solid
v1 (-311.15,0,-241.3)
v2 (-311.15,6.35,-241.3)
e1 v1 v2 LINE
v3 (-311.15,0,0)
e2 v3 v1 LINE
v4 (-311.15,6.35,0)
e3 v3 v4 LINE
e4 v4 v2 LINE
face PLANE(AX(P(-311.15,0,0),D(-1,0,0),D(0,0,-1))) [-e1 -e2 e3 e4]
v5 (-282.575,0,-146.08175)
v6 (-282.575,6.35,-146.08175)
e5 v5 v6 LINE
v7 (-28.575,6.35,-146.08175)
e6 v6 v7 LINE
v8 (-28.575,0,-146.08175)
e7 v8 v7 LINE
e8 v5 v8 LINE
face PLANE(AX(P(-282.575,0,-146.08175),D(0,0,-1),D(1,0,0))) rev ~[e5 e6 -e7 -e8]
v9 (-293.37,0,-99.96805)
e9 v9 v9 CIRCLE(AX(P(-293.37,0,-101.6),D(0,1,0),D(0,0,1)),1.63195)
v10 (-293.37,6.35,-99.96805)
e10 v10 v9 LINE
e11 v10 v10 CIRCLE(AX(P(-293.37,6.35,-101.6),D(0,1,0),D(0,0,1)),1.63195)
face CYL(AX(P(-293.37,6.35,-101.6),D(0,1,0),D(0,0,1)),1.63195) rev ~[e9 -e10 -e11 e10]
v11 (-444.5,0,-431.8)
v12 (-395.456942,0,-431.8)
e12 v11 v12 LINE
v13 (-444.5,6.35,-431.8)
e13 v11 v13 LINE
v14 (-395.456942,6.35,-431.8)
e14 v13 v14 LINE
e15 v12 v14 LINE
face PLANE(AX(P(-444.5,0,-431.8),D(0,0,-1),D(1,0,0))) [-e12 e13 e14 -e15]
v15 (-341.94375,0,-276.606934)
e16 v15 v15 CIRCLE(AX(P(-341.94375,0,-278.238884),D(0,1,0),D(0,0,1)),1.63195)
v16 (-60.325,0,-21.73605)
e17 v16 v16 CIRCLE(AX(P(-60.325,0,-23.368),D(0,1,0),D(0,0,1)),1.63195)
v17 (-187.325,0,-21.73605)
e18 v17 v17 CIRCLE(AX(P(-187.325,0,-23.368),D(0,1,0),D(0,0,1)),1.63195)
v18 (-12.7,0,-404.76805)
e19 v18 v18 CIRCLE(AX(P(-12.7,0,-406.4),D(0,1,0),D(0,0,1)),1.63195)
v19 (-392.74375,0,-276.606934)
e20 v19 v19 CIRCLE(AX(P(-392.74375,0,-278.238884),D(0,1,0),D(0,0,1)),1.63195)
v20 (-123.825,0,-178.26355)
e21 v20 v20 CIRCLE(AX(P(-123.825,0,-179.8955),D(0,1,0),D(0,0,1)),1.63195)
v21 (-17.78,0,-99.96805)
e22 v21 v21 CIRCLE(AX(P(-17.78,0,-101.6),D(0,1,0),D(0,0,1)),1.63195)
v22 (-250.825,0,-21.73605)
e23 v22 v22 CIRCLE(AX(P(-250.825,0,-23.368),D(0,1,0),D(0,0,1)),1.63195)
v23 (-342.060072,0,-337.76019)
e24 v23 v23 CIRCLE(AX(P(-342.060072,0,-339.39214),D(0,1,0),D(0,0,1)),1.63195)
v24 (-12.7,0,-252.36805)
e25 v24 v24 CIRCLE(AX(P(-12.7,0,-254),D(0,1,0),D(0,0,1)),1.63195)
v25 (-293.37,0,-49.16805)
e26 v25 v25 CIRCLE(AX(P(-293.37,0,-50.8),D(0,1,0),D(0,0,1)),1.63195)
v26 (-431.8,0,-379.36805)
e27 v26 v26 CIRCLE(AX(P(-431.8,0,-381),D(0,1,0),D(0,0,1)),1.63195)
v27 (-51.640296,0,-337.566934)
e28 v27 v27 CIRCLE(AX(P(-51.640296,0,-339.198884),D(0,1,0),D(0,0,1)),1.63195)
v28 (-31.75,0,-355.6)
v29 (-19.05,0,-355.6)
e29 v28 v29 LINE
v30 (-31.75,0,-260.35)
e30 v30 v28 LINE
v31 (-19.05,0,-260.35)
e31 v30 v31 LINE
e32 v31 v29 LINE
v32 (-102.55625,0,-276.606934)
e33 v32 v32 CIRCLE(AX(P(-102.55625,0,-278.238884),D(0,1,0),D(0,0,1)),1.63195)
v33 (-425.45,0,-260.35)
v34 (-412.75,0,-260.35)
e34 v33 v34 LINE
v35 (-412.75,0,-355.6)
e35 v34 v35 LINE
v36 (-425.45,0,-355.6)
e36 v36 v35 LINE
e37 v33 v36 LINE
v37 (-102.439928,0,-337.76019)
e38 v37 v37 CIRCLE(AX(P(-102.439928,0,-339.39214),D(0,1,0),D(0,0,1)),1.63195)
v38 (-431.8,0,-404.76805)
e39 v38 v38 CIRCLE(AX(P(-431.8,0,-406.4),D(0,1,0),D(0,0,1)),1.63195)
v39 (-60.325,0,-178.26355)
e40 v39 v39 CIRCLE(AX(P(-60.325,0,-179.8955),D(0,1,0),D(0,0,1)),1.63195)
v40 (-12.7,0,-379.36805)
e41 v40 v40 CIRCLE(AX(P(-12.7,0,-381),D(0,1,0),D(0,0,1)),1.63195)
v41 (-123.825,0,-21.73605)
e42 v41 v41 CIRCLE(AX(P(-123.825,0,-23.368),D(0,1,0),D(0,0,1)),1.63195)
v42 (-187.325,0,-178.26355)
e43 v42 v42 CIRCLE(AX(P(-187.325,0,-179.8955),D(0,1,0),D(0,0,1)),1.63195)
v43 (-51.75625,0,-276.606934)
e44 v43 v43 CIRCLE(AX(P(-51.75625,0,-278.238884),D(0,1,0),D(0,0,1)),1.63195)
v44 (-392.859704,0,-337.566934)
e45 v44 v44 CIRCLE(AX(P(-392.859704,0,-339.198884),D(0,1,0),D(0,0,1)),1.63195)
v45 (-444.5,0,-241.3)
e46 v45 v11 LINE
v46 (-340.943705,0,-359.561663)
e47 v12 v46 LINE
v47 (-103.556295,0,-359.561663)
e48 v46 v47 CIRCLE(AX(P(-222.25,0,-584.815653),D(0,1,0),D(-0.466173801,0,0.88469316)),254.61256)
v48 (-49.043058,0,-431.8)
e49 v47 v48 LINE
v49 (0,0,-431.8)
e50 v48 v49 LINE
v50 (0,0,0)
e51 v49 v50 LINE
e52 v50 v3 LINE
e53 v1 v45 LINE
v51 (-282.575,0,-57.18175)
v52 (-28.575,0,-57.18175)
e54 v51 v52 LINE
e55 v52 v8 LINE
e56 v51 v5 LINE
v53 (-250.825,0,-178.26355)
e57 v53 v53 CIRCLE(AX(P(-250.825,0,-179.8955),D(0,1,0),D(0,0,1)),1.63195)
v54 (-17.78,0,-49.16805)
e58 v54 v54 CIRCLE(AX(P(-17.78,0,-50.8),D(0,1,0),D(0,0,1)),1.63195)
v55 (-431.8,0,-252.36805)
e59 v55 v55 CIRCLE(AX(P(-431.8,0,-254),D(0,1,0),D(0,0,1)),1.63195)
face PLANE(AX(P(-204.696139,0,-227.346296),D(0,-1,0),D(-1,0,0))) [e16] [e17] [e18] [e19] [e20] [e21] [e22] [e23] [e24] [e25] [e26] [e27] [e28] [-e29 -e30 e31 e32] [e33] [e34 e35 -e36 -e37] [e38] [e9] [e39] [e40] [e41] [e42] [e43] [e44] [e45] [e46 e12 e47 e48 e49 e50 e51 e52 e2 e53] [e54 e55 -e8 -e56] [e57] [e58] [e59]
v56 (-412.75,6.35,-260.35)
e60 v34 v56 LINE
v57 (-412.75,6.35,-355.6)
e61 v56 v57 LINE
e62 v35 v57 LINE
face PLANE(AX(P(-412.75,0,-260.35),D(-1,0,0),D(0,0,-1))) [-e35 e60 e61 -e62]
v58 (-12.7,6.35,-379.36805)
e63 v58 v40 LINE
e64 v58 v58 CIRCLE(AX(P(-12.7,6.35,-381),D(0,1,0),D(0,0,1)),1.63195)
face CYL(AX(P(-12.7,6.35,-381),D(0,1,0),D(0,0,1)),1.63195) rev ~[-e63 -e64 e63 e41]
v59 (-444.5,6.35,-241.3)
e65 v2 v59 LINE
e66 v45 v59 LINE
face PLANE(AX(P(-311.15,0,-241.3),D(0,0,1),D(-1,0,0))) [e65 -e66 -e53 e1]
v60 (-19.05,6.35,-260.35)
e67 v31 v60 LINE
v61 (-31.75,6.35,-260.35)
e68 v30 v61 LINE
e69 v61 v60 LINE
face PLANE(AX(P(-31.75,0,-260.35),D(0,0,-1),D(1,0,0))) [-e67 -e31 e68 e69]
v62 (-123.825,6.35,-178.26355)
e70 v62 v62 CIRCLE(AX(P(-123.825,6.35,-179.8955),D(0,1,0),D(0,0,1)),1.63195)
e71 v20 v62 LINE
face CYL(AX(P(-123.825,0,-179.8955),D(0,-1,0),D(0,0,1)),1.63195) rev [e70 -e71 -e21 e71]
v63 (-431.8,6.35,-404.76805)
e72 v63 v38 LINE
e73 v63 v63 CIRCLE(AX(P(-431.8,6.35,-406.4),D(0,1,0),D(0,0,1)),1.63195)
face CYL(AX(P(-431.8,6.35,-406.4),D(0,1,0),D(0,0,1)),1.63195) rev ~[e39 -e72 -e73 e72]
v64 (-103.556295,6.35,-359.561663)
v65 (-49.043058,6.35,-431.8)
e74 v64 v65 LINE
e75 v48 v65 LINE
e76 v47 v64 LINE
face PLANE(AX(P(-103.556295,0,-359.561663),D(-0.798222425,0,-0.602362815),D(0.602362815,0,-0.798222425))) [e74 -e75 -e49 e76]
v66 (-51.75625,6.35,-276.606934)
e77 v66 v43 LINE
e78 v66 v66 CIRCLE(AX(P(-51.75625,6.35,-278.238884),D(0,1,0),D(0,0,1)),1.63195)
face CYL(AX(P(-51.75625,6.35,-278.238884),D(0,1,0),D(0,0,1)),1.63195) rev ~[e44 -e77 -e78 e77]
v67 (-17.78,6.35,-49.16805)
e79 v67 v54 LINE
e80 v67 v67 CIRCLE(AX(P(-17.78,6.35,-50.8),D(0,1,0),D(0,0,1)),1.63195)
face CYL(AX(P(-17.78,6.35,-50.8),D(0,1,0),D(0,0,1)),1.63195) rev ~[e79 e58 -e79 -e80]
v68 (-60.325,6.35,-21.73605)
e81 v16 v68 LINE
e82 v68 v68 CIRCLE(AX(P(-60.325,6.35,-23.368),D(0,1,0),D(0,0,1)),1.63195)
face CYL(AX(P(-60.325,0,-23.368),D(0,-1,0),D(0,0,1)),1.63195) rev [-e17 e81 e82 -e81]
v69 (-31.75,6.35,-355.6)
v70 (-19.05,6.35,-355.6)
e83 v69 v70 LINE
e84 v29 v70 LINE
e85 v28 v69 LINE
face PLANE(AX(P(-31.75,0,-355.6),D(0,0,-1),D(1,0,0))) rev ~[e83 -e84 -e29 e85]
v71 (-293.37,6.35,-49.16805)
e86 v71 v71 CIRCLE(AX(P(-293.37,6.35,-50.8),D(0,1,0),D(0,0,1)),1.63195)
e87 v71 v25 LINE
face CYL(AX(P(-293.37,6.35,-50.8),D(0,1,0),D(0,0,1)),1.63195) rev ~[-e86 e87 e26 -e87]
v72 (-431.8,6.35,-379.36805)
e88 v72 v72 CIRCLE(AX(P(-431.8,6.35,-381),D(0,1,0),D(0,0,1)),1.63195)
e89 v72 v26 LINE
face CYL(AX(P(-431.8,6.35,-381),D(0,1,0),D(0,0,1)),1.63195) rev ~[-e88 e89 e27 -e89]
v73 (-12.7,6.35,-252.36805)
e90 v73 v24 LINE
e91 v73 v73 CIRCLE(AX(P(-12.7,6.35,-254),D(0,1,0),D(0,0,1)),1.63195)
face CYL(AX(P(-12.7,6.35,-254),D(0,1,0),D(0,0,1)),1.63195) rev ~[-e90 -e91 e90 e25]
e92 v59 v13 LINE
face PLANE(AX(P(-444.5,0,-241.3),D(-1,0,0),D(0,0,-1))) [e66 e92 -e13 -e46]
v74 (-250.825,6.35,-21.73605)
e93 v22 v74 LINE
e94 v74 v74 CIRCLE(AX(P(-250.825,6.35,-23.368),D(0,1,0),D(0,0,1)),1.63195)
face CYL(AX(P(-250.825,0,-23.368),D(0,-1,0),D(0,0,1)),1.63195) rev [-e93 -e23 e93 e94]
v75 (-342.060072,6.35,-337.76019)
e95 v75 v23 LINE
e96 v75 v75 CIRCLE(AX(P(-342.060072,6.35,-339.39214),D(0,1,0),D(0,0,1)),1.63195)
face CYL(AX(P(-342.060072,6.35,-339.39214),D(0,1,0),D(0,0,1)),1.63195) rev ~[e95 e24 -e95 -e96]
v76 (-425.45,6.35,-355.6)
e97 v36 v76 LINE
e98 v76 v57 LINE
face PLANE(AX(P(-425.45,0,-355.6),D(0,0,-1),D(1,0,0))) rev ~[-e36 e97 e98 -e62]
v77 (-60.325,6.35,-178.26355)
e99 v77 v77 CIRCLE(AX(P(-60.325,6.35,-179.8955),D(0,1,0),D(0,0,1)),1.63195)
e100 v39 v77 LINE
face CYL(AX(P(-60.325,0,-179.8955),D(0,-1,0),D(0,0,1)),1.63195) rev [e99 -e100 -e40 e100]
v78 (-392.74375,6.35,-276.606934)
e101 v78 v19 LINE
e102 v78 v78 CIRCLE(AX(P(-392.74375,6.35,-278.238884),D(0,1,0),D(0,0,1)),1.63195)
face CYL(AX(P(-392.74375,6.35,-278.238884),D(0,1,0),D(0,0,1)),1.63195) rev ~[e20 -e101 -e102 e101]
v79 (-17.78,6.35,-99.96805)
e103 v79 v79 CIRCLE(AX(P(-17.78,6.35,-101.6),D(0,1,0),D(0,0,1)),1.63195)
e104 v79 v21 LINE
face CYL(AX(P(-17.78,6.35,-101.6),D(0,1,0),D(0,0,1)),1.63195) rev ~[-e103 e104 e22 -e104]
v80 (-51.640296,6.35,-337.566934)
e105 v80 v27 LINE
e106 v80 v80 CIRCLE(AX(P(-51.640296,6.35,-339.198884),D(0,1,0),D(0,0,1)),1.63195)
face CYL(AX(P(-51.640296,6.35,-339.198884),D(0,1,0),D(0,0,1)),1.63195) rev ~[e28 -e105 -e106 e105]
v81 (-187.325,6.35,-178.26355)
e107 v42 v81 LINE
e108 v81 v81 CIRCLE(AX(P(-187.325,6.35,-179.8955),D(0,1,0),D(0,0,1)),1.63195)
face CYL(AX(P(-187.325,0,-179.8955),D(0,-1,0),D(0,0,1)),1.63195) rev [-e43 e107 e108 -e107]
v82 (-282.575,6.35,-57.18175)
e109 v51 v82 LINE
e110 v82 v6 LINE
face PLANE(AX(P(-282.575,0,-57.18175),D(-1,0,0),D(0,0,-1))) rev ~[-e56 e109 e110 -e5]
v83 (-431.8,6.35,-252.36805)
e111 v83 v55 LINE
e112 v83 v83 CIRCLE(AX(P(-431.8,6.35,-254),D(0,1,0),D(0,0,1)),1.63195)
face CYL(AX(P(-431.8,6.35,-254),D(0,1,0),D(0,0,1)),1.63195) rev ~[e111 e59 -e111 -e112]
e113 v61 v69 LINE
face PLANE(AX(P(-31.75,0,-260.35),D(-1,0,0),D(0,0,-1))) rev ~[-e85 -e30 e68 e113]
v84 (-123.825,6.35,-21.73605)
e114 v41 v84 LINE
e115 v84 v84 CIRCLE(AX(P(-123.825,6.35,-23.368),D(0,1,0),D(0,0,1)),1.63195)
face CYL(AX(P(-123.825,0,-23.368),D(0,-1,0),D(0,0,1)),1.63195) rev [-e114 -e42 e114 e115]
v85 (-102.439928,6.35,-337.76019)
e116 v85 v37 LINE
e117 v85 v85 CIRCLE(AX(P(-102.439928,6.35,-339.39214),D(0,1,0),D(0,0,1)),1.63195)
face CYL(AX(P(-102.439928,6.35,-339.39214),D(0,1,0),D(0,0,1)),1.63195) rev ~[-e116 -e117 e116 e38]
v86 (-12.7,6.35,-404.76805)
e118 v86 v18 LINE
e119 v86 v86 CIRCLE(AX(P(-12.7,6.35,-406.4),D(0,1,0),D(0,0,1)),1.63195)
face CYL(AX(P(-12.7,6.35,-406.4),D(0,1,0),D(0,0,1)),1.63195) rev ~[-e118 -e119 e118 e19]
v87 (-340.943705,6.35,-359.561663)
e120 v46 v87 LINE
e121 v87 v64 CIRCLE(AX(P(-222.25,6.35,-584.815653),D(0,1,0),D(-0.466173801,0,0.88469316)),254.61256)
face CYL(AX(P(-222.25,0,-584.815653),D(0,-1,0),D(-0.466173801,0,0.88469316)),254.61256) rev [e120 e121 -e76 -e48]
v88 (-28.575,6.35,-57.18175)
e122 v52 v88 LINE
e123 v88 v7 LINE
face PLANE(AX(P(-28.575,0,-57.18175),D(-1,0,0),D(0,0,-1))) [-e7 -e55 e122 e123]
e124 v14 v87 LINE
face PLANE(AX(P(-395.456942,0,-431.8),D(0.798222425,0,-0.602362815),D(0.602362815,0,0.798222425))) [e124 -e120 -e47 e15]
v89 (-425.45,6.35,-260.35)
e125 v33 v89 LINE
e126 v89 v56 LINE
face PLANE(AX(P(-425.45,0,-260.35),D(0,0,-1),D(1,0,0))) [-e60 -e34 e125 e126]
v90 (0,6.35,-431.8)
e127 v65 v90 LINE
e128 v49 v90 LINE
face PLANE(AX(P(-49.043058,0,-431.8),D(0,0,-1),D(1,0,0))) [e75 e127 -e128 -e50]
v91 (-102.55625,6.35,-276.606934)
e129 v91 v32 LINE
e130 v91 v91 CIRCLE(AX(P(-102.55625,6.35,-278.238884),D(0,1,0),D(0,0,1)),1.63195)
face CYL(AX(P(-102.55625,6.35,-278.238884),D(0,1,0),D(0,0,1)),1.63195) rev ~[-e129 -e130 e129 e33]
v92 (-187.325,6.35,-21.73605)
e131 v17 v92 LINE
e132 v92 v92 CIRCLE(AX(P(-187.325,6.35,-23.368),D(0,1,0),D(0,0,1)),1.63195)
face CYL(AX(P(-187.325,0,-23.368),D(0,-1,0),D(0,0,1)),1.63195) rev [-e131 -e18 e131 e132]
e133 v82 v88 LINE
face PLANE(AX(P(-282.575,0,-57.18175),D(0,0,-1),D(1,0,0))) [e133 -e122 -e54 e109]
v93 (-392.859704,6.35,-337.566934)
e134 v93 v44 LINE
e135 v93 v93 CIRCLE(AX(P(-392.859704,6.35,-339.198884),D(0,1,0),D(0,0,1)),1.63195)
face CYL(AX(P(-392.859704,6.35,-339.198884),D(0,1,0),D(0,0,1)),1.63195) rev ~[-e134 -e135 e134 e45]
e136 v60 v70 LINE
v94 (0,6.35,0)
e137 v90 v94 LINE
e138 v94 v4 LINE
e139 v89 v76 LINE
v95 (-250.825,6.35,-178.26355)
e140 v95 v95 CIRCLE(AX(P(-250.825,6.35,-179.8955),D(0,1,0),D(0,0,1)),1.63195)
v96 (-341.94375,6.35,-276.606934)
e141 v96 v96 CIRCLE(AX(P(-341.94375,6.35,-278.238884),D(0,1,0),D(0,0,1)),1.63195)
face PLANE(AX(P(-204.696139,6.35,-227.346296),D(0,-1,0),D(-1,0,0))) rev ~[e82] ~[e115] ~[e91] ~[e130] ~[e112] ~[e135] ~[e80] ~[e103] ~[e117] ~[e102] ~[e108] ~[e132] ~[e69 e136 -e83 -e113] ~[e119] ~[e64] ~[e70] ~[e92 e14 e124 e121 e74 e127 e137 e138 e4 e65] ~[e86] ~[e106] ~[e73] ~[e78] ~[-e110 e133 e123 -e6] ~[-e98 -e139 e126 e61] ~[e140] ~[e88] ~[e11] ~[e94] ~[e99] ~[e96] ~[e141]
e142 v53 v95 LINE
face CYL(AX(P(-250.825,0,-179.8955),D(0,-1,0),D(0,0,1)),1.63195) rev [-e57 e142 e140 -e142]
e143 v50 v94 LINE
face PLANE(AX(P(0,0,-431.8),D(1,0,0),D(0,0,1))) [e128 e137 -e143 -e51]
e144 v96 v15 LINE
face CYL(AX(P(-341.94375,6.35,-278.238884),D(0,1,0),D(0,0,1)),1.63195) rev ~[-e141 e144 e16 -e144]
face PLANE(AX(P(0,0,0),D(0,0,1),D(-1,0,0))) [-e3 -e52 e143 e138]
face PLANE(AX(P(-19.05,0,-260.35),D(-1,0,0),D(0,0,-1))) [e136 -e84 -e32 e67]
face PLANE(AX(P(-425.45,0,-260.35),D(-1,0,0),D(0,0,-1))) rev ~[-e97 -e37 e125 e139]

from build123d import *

# Parameters (mm, degrees)
SKETCH1_R           = 1.63195
SKETCH1_W           = 254
SKETCH1_H           = 88.9
SKETCH1_W_2         = 12.7
SKETCH1_H_2         = 95.25
BOSS_EXTRUDE1_DEPTH = 6.35
CUT_EXTRUDE1_REACH  = 621.735
SKETCH2_R           = 1.63195
CUT_EXTRUDE2_REACH  = 621.735
SKETCH4_R           = 1.63195


with BuildPart() as part:
    # Sketch1 → Boss-Extrude1 (new body)
    with BuildSketch(Plane(origin=(0, 0, 0), x_dir=(1, 0, 0), z_dir=(0, 1, 0))):
        with BuildLine():
            Line((-444.5, 431.8), (-395.456941666, 431.8))
            Line((-395.456941666, 431.8), (-340.943704665, 359.56166268))
            ThreePointArc((-340.943704665, 359.56166268), (-222.25, 330.203093028), (-103.556295335, 359.56166268))
            Line((-103.556295335, 359.56166268), (-49.043058334, 431.8))
            Line((-49.043058334, 431.8), (0, 431.8))
            Line((0, 431.8), (0, 0))
            Line((0, 0), (-311.15, 0))
            Line((-311.15, 0), (-311.15, 241.3))
            Line((-311.15, 241.3), (-444.5, 241.3))
            Line((-444.5, 241.3), (-444.5, 431.8))
        make_face()
        with Locations(Location((-250.825, 23.368, 0), (0, 0, 270))):
            Circle(SKETCH1_R, mode=Mode.SUBTRACT)
        with Locations(Location((-187.325, 23.368, 0), (0, 0, 270))):
            Circle(SKETCH1_R, mode=Mode.SUBTRACT)
        with Locations(Location((-187.325, 179.8955, 0), (0, 0, 270))):
            Circle(SKETCH1_R, mode=Mode.SUBTRACT)
        with Locations(Location((-250.825, 179.8955, 0), (0, 0, 270))):
            Circle(SKETCH1_R, mode=Mode.SUBTRACT)
        with Locations(Location((-123.825, 179.8955, 0), (0, 0, 270))):
            Circle(SKETCH1_R, mode=Mode.SUBTRACT)
        with Locations(Location((-60.325, 179.8955, 0), (0, 0, 270))):
            Circle(SKETCH1_R, mode=Mode.SUBTRACT)
        with Locations(Location((-123.825, 23.368, 0), (0, 0, 270))):
            Circle(SKETCH1_R, mode=Mode.SUBTRACT)
        with Locations(Location((-60.325, 23.368, 0), (0, 0, 270))):
            Circle(SKETCH1_R, mode=Mode.SUBTRACT)
        with Locations((-155.575, 101.63175)):
            Rectangle(SKETCH1_W, SKETCH1_H, mode=Mode.SUBTRACT)
        with Locations((-25.4, 307.975)):
            Rectangle(SKETCH1_W_2, SKETCH1_H_2, mode=Mode.SUBTRACT)
        with Locations((-419.1, 307.975)):
            Rectangle(SKETCH1_W_2, SKETCH1_H_2, mode=Mode.SUBTRACT)
    extrude(amount=BOSS_EXTRUDE1_DEPTH)

    # Sketch2 → Cut-Extrude1 (cut, up to next)
    with BuildSketch(Plane(origin=(0, 6.35, 0), x_dir=(1, 0, 0), z_dir=(0, 1, 0)), mode=Mode.PRIVATE) as cut_extrude1_sk1:
        with Locations(Location((-293.37, 101.6, 0), (0, 0, 270))):
            Circle(SKETCH2_R)
    cut_extrude1_tool1 = extrude(cut_extrude1_sk1.sketch, amount=-CUT_EXTRUDE1_REACH, mode=Mode.PRIVATE) & part.part
    # Sketch2 → Cut-Extrude1 (cut, up to next)
    with BuildSketch(Plane(origin=(0, 6.35, 0), x_dir=(1, 0, 0), z_dir=(0, 1, 0)), mode=Mode.PRIVATE) as cut_extrude1_sk2:
        with Locations(Location((-293.37, 50.8, 0), (0, 0, 270))):
            Circle(SKETCH2_R)
    cut_extrude1_tool2 = extrude(cut_extrude1_sk2.sketch, amount=-CUT_EXTRUDE1_REACH, mode=Mode.PRIVATE) & part.part
    # Sketch2 → Cut-Extrude1 (cut, up to next)
    with BuildSketch(Plane(origin=(0, 6.35, 0), x_dir=(1, 0, 0), z_dir=(0, 1, 0)), mode=Mode.PRIVATE) as cut_extrude1_sk3:
        with Locations(Location((-17.78, 101.6, 0), (0, 0, 270))):
            Circle(SKETCH2_R)
    cut_extrude1_tool3 = extrude(cut_extrude1_sk3.sketch, amount=-CUT_EXTRUDE1_REACH, mode=Mode.PRIVATE) & part.part
    # Sketch2 → Cut-Extrude1 (cut, up to next)
    with BuildSketch(Plane(origin=(0, 6.35, 0), x_dir=(1, 0, 0), z_dir=(0, 1, 0)), mode=Mode.PRIVATE) as cut_extrude1_sk4:
        with Locations(Location((-17.78, 50.8, 0), (0, 0, 270))):
            Circle(SKETCH2_R)
    cut_extrude1_tool4 = extrude(cut_extrude1_sk4.sketch, amount=-CUT_EXTRUDE1_REACH, mode=Mode.PRIVATE) & part.part
    add(cut_extrude1_tool1.solids().sort_by_distance((-293.37, 6.35, -101.6))[0], mode=Mode.SUBTRACT)
    add(cut_extrude1_tool2.solids().sort_by_distance((-293.37, 6.35, -50.8))[0], mode=Mode.SUBTRACT)
    add(cut_extrude1_tool3.solids().sort_by_distance((-17.78, 6.35, -101.6))[0], mode=Mode.SUBTRACT)
    add(cut_extrude1_tool4.solids().sort_by_distance((-17.78, 6.35, -50.8))[0], mode=Mode.SUBTRACT)

    # Sketch4 → Cut-Extrude2 (cut, up to next)
    with BuildSketch(Plane(origin=(0, 6.35, 0), x_dir=(1, 0, 0), z_dir=(0, 1, 0)), mode=Mode.PRIVATE) as cut_extrude2_sk1:
        with Locations(Location((-102.439928105, 339.392140239, 0), (0, 0, 270))):
            Circle(SKETCH4_R)
    cut_extrude2_tool1 = extrude(cut_extrude2_sk1.sketch, amount=-CUT_EXTRUDE2_REACH, mode=Mode.PRIVATE) & part.part
    # Sketch4 → Cut-Extrude2 (cut, up to next)
    with BuildSketch(Plane(origin=(0, 6.35, 0), x_dir=(1, 0, 0), z_dir=(0, 1, 0)), mode=Mode.PRIVATE) as cut_extrude2_sk2:
        with Locations(Location((-51.640295705, 339.198883781, 0), (0, 0, 270))):
            Circle(SKETCH4_R)
    cut_extrude2_tool2 = extrude(cut_extrude2_sk2.sketch, amount=-CUT_EXTRUDE2_REACH, mode=Mode.PRIVATE) & part.part
    # Sketch4 → Cut-Extrude2 (cut, up to next)
    with BuildSketch(Plane(origin=(0, 6.35, 0), x_dir=(1, 0, 0), z_dir=(0, 1, 0)), mode=Mode.PRIVATE) as cut_extrude2_sk3:
        with Locations(Location((-102.55625, 278.238883781, 0), (0, 0, 270))):
            Circle(SKETCH4_R)
    cut_extrude2_tool3 = extrude(cut_extrude2_sk3.sketch, amount=-CUT_EXTRUDE2_REACH, mode=Mode.PRIVATE) & part.part
    # Sketch4 → Cut-Extrude2 (cut, up to next)
    with BuildSketch(Plane(origin=(0, 6.35, 0), x_dir=(1, 0, 0), z_dir=(0, 1, 0)), mode=Mode.PRIVATE) as cut_extrude2_sk4:
        with Locations(Location((-51.75625, 278.238883781, 0), (0, 0, 270))):
            Circle(SKETCH4_R)
    cut_extrude2_tool4 = extrude(cut_extrude2_sk4.sketch, amount=-CUT_EXTRUDE2_REACH, mode=Mode.PRIVATE) & part.part
    # Sketch4 → Cut-Extrude2 (cut, up to next)
    with BuildSketch(Plane(origin=(0, 6.35, 0), x_dir=(1, 0, 0), z_dir=(0, 1, 0)), mode=Mode.PRIVATE) as cut_extrude2_sk5:
        with Locations(Location((-392.74375, 278.238883781, 0), (0, 0, 270))):
            Circle(SKETCH4_R)
    cut_extrude2_tool5 = extrude(cut_extrude2_sk5.sketch, amount=-CUT_EXTRUDE2_REACH, mode=Mode.PRIVATE) & part.part
    # Sketch4 → Cut-Extrude2 (cut, up to next)
    with BuildSketch(Plane(origin=(0, 6.35, 0), x_dir=(1, 0, 0), z_dir=(0, 1, 0)), mode=Mode.PRIVATE) as cut_extrude2_sk6:
        with Locations(Location((-341.94375, 278.238883781, 0), (0, 0, 270))):
            Circle(SKETCH4_R)
    cut_extrude2_tool6 = extrude(cut_extrude2_sk6.sketch, amount=-CUT_EXTRUDE2_REACH, mode=Mode.PRIVATE) & part.part
    # Sketch4 → Cut-Extrude2 (cut, up to next)
    with BuildSketch(Plane(origin=(0, 6.35, 0), x_dir=(1, 0, 0), z_dir=(0, 1, 0)), mode=Mode.PRIVATE) as cut_extrude2_sk7:
        with Locations(Location((-392.859704295, 339.198883781, 0), (0, 0, 270))):
            Circle(SKETCH4_R)
    cut_extrude2_tool7 = extrude(cut_extrude2_sk7.sketch, amount=-CUT_EXTRUDE2_REACH, mode=Mode.PRIVATE) & part.part
    # Sketch4 → Cut-Extrude2 (cut, up to next)
    with BuildSketch(Plane(origin=(0, 6.35, 0), x_dir=(1, 0, 0), z_dir=(0, 1, 0)), mode=Mode.PRIVATE) as cut_extrude2_sk8:
        with Locations(Location((-342.060071895, 339.392140239, 0), (0, 0, 270))):
            Circle(SKETCH4_R)
    cut_extrude2_tool8 = extrude(cut_extrude2_sk8.sketch, amount=-CUT_EXTRUDE2_REACH, mode=Mode.PRIVATE) & part.part
    # Sketch4 → Cut-Extrude2 (cut, up to next)
    with BuildSketch(Plane(origin=(0, 6.35, 0), x_dir=(1, 0, 0), z_dir=(0, 1, 0)), mode=Mode.PRIVATE) as cut_extrude2_sk9:
        with Locations(Location((-12.7, 406.4, 0), (0, 0, 270))):
            Circle(SKETCH4_R)
    cut_extrude2_tool9 = extrude(cut_extrude2_sk9.sketch, amount=-CUT_EXTRUDE2_REACH, mode=Mode.PRIVATE) & part.part
    # Sketch4 → Cut-Extrude2 (cut, up to next)
    with BuildSketch(Plane(origin=(0, 6.35, 0), x_dir=(1, 0, 0), z_dir=(0, 1, 0)), mode=Mode.PRIVATE) as cut_extrude2_sk10:
        with Locations(Location((-12.7, 381, 0), (0, 0, 270))):
            Circle(SKETCH4_R)
    cut_extrude2_tool10 = extrude(cut_extrude2_sk10.sketch, amount=-CUT_EXTRUDE2_REACH, mode=Mode.PRIVATE) & part.part
    # Sketch4 → Cut-Extrude2 (cut, up to next)
    with BuildSketch(Plane(origin=(0, 6.35, 0), x_dir=(1, 0, 0), z_dir=(0, 1, 0)), mode=Mode.PRIVATE) as cut_extrude2_sk11:
        with Locations(Location((-12.7, 254, 0), (0, 0, 270))):
            Circle(SKETCH4_R)
    cut_extrude2_tool11 = extrude(cut_extrude2_sk11.sketch, amount=-CUT_EXTRUDE2_REACH, mode=Mode.PRIVATE) & part.part
    # Sketch4 → Cut-Extrude2 (cut, up to next)
    with BuildSketch(Plane(origin=(0, 6.35, 0), x_dir=(1, 0, 0), z_dir=(0, 1, 0)), mode=Mode.PRIVATE) as cut_extrude2_sk12:
        with Locations(Location((-431.8, 254, 0), (0, 0, 270))):
            Circle(SKETCH4_R)
    cut_extrude2_tool12 = extrude(cut_extrude2_sk12.sketch, amount=-CUT_EXTRUDE2_REACH, mode=Mode.PRIVATE) & part.part
    # Sketch4 → Cut-Extrude2 (cut, up to next)
    with BuildSketch(Plane(origin=(0, 6.35, 0), x_dir=(1, 0, 0), z_dir=(0, 1, 0)), mode=Mode.PRIVATE) as cut_extrude2_sk13:
        with Locations(Location((-431.8, 381, 0), (0, 0, 270))):
            Circle(SKETCH4_R)
    cut_extrude2_tool13 = extrude(cut_extrude2_sk13.sketch, amount=-CUT_EXTRUDE2_REACH, mode=Mode.PRIVATE) & part.part
    # Sketch4 → Cut-Extrude2 (cut, up to next)
    with BuildSketch(Plane(origin=(0, 6.35, 0), x_dir=(1, 0, 0), z_dir=(0, 1, 0)), mode=Mode.PRIVATE) as cut_extrude2_sk14:
        with Locations(Location((-431.8, 406.4, 0), (0, 0, 270))):
            Circle(SKETCH4_R)
    cut_extrude2_tool14 = extrude(cut_extrude2_sk14.sketch, amount=-CUT_EXTRUDE2_REACH, mode=Mode.PRIVATE) & part.part
    add(cut_extrude2_tool1.solids().sort_by_distance((-102.439928, 6.35, -339.39214))[0], mode=Mode.SUBTRACT)
    add(cut_extrude2_tool2.solids().sort_by_distance((-51.640296, 6.35, -339.198884))[0], mode=Mode.SUBTRACT)
    add(cut_extrude2_tool3.solids().sort_by_distance((-102.55625, 6.35, -278.238884))[0], mode=Mode.SUBTRACT)
    add(cut_extrude2_tool4.solids().sort_by_distance((-51.75625, 6.35, -278.238884))[0], mode=Mode.SUBTRACT)
    add(cut_extrude2_tool5.solids().sort_by_distance((-392.74375, 6.35, -278.238884))[0], mode=Mode.SUBTRACT)
    add(cut_extrude2_tool6.solids().sort_by_distance((-341.94375, 6.35, -278.238884))[0], mode=Mode.SUBTRACT)
    add(cut_extrude2_tool7.solids().sort_by_distance((-392.859704, 6.35, -339.198884))[0], mode=Mode.SUBTRACT)
    add(cut_extrude2_tool8.solids().sort_by_distance((-342.060072, 6.35, -339.39214))[0], mode=Mode.SUBTRACT)
    add(cut_extrude2_tool9.solids().sort_by_distance((-12.7, 6.35, -406.4))[0], mode=Mode.SUBTRACT)
    add(cut_extrude2_tool10.solids().sort_by_distance((-12.7, 6.35, -381))[0], mode=Mode.SUBTRACT)
    add(cut_extrude2_tool11.solids().sort_by_distance((-12.7, 6.35, -254))[0], mode=Mode.SUBTRACT)
    add(cut_extrude2_tool12.solids().sort_by_distance((-431.8, 6.35, -254))[0], mode=Mode.SUBTRACT)
    add(cut_extrude2_tool13.solids().sort_by_distance((-431.8, 6.35, -381))[0], mode=Mode.SUBTRACT)
    add(cut_extrude2_tool14.solids().sort_by_distance((-431.8, 6.35, -406.4))[0], mode=Mode.SUBTRACT)


solid = part.part
